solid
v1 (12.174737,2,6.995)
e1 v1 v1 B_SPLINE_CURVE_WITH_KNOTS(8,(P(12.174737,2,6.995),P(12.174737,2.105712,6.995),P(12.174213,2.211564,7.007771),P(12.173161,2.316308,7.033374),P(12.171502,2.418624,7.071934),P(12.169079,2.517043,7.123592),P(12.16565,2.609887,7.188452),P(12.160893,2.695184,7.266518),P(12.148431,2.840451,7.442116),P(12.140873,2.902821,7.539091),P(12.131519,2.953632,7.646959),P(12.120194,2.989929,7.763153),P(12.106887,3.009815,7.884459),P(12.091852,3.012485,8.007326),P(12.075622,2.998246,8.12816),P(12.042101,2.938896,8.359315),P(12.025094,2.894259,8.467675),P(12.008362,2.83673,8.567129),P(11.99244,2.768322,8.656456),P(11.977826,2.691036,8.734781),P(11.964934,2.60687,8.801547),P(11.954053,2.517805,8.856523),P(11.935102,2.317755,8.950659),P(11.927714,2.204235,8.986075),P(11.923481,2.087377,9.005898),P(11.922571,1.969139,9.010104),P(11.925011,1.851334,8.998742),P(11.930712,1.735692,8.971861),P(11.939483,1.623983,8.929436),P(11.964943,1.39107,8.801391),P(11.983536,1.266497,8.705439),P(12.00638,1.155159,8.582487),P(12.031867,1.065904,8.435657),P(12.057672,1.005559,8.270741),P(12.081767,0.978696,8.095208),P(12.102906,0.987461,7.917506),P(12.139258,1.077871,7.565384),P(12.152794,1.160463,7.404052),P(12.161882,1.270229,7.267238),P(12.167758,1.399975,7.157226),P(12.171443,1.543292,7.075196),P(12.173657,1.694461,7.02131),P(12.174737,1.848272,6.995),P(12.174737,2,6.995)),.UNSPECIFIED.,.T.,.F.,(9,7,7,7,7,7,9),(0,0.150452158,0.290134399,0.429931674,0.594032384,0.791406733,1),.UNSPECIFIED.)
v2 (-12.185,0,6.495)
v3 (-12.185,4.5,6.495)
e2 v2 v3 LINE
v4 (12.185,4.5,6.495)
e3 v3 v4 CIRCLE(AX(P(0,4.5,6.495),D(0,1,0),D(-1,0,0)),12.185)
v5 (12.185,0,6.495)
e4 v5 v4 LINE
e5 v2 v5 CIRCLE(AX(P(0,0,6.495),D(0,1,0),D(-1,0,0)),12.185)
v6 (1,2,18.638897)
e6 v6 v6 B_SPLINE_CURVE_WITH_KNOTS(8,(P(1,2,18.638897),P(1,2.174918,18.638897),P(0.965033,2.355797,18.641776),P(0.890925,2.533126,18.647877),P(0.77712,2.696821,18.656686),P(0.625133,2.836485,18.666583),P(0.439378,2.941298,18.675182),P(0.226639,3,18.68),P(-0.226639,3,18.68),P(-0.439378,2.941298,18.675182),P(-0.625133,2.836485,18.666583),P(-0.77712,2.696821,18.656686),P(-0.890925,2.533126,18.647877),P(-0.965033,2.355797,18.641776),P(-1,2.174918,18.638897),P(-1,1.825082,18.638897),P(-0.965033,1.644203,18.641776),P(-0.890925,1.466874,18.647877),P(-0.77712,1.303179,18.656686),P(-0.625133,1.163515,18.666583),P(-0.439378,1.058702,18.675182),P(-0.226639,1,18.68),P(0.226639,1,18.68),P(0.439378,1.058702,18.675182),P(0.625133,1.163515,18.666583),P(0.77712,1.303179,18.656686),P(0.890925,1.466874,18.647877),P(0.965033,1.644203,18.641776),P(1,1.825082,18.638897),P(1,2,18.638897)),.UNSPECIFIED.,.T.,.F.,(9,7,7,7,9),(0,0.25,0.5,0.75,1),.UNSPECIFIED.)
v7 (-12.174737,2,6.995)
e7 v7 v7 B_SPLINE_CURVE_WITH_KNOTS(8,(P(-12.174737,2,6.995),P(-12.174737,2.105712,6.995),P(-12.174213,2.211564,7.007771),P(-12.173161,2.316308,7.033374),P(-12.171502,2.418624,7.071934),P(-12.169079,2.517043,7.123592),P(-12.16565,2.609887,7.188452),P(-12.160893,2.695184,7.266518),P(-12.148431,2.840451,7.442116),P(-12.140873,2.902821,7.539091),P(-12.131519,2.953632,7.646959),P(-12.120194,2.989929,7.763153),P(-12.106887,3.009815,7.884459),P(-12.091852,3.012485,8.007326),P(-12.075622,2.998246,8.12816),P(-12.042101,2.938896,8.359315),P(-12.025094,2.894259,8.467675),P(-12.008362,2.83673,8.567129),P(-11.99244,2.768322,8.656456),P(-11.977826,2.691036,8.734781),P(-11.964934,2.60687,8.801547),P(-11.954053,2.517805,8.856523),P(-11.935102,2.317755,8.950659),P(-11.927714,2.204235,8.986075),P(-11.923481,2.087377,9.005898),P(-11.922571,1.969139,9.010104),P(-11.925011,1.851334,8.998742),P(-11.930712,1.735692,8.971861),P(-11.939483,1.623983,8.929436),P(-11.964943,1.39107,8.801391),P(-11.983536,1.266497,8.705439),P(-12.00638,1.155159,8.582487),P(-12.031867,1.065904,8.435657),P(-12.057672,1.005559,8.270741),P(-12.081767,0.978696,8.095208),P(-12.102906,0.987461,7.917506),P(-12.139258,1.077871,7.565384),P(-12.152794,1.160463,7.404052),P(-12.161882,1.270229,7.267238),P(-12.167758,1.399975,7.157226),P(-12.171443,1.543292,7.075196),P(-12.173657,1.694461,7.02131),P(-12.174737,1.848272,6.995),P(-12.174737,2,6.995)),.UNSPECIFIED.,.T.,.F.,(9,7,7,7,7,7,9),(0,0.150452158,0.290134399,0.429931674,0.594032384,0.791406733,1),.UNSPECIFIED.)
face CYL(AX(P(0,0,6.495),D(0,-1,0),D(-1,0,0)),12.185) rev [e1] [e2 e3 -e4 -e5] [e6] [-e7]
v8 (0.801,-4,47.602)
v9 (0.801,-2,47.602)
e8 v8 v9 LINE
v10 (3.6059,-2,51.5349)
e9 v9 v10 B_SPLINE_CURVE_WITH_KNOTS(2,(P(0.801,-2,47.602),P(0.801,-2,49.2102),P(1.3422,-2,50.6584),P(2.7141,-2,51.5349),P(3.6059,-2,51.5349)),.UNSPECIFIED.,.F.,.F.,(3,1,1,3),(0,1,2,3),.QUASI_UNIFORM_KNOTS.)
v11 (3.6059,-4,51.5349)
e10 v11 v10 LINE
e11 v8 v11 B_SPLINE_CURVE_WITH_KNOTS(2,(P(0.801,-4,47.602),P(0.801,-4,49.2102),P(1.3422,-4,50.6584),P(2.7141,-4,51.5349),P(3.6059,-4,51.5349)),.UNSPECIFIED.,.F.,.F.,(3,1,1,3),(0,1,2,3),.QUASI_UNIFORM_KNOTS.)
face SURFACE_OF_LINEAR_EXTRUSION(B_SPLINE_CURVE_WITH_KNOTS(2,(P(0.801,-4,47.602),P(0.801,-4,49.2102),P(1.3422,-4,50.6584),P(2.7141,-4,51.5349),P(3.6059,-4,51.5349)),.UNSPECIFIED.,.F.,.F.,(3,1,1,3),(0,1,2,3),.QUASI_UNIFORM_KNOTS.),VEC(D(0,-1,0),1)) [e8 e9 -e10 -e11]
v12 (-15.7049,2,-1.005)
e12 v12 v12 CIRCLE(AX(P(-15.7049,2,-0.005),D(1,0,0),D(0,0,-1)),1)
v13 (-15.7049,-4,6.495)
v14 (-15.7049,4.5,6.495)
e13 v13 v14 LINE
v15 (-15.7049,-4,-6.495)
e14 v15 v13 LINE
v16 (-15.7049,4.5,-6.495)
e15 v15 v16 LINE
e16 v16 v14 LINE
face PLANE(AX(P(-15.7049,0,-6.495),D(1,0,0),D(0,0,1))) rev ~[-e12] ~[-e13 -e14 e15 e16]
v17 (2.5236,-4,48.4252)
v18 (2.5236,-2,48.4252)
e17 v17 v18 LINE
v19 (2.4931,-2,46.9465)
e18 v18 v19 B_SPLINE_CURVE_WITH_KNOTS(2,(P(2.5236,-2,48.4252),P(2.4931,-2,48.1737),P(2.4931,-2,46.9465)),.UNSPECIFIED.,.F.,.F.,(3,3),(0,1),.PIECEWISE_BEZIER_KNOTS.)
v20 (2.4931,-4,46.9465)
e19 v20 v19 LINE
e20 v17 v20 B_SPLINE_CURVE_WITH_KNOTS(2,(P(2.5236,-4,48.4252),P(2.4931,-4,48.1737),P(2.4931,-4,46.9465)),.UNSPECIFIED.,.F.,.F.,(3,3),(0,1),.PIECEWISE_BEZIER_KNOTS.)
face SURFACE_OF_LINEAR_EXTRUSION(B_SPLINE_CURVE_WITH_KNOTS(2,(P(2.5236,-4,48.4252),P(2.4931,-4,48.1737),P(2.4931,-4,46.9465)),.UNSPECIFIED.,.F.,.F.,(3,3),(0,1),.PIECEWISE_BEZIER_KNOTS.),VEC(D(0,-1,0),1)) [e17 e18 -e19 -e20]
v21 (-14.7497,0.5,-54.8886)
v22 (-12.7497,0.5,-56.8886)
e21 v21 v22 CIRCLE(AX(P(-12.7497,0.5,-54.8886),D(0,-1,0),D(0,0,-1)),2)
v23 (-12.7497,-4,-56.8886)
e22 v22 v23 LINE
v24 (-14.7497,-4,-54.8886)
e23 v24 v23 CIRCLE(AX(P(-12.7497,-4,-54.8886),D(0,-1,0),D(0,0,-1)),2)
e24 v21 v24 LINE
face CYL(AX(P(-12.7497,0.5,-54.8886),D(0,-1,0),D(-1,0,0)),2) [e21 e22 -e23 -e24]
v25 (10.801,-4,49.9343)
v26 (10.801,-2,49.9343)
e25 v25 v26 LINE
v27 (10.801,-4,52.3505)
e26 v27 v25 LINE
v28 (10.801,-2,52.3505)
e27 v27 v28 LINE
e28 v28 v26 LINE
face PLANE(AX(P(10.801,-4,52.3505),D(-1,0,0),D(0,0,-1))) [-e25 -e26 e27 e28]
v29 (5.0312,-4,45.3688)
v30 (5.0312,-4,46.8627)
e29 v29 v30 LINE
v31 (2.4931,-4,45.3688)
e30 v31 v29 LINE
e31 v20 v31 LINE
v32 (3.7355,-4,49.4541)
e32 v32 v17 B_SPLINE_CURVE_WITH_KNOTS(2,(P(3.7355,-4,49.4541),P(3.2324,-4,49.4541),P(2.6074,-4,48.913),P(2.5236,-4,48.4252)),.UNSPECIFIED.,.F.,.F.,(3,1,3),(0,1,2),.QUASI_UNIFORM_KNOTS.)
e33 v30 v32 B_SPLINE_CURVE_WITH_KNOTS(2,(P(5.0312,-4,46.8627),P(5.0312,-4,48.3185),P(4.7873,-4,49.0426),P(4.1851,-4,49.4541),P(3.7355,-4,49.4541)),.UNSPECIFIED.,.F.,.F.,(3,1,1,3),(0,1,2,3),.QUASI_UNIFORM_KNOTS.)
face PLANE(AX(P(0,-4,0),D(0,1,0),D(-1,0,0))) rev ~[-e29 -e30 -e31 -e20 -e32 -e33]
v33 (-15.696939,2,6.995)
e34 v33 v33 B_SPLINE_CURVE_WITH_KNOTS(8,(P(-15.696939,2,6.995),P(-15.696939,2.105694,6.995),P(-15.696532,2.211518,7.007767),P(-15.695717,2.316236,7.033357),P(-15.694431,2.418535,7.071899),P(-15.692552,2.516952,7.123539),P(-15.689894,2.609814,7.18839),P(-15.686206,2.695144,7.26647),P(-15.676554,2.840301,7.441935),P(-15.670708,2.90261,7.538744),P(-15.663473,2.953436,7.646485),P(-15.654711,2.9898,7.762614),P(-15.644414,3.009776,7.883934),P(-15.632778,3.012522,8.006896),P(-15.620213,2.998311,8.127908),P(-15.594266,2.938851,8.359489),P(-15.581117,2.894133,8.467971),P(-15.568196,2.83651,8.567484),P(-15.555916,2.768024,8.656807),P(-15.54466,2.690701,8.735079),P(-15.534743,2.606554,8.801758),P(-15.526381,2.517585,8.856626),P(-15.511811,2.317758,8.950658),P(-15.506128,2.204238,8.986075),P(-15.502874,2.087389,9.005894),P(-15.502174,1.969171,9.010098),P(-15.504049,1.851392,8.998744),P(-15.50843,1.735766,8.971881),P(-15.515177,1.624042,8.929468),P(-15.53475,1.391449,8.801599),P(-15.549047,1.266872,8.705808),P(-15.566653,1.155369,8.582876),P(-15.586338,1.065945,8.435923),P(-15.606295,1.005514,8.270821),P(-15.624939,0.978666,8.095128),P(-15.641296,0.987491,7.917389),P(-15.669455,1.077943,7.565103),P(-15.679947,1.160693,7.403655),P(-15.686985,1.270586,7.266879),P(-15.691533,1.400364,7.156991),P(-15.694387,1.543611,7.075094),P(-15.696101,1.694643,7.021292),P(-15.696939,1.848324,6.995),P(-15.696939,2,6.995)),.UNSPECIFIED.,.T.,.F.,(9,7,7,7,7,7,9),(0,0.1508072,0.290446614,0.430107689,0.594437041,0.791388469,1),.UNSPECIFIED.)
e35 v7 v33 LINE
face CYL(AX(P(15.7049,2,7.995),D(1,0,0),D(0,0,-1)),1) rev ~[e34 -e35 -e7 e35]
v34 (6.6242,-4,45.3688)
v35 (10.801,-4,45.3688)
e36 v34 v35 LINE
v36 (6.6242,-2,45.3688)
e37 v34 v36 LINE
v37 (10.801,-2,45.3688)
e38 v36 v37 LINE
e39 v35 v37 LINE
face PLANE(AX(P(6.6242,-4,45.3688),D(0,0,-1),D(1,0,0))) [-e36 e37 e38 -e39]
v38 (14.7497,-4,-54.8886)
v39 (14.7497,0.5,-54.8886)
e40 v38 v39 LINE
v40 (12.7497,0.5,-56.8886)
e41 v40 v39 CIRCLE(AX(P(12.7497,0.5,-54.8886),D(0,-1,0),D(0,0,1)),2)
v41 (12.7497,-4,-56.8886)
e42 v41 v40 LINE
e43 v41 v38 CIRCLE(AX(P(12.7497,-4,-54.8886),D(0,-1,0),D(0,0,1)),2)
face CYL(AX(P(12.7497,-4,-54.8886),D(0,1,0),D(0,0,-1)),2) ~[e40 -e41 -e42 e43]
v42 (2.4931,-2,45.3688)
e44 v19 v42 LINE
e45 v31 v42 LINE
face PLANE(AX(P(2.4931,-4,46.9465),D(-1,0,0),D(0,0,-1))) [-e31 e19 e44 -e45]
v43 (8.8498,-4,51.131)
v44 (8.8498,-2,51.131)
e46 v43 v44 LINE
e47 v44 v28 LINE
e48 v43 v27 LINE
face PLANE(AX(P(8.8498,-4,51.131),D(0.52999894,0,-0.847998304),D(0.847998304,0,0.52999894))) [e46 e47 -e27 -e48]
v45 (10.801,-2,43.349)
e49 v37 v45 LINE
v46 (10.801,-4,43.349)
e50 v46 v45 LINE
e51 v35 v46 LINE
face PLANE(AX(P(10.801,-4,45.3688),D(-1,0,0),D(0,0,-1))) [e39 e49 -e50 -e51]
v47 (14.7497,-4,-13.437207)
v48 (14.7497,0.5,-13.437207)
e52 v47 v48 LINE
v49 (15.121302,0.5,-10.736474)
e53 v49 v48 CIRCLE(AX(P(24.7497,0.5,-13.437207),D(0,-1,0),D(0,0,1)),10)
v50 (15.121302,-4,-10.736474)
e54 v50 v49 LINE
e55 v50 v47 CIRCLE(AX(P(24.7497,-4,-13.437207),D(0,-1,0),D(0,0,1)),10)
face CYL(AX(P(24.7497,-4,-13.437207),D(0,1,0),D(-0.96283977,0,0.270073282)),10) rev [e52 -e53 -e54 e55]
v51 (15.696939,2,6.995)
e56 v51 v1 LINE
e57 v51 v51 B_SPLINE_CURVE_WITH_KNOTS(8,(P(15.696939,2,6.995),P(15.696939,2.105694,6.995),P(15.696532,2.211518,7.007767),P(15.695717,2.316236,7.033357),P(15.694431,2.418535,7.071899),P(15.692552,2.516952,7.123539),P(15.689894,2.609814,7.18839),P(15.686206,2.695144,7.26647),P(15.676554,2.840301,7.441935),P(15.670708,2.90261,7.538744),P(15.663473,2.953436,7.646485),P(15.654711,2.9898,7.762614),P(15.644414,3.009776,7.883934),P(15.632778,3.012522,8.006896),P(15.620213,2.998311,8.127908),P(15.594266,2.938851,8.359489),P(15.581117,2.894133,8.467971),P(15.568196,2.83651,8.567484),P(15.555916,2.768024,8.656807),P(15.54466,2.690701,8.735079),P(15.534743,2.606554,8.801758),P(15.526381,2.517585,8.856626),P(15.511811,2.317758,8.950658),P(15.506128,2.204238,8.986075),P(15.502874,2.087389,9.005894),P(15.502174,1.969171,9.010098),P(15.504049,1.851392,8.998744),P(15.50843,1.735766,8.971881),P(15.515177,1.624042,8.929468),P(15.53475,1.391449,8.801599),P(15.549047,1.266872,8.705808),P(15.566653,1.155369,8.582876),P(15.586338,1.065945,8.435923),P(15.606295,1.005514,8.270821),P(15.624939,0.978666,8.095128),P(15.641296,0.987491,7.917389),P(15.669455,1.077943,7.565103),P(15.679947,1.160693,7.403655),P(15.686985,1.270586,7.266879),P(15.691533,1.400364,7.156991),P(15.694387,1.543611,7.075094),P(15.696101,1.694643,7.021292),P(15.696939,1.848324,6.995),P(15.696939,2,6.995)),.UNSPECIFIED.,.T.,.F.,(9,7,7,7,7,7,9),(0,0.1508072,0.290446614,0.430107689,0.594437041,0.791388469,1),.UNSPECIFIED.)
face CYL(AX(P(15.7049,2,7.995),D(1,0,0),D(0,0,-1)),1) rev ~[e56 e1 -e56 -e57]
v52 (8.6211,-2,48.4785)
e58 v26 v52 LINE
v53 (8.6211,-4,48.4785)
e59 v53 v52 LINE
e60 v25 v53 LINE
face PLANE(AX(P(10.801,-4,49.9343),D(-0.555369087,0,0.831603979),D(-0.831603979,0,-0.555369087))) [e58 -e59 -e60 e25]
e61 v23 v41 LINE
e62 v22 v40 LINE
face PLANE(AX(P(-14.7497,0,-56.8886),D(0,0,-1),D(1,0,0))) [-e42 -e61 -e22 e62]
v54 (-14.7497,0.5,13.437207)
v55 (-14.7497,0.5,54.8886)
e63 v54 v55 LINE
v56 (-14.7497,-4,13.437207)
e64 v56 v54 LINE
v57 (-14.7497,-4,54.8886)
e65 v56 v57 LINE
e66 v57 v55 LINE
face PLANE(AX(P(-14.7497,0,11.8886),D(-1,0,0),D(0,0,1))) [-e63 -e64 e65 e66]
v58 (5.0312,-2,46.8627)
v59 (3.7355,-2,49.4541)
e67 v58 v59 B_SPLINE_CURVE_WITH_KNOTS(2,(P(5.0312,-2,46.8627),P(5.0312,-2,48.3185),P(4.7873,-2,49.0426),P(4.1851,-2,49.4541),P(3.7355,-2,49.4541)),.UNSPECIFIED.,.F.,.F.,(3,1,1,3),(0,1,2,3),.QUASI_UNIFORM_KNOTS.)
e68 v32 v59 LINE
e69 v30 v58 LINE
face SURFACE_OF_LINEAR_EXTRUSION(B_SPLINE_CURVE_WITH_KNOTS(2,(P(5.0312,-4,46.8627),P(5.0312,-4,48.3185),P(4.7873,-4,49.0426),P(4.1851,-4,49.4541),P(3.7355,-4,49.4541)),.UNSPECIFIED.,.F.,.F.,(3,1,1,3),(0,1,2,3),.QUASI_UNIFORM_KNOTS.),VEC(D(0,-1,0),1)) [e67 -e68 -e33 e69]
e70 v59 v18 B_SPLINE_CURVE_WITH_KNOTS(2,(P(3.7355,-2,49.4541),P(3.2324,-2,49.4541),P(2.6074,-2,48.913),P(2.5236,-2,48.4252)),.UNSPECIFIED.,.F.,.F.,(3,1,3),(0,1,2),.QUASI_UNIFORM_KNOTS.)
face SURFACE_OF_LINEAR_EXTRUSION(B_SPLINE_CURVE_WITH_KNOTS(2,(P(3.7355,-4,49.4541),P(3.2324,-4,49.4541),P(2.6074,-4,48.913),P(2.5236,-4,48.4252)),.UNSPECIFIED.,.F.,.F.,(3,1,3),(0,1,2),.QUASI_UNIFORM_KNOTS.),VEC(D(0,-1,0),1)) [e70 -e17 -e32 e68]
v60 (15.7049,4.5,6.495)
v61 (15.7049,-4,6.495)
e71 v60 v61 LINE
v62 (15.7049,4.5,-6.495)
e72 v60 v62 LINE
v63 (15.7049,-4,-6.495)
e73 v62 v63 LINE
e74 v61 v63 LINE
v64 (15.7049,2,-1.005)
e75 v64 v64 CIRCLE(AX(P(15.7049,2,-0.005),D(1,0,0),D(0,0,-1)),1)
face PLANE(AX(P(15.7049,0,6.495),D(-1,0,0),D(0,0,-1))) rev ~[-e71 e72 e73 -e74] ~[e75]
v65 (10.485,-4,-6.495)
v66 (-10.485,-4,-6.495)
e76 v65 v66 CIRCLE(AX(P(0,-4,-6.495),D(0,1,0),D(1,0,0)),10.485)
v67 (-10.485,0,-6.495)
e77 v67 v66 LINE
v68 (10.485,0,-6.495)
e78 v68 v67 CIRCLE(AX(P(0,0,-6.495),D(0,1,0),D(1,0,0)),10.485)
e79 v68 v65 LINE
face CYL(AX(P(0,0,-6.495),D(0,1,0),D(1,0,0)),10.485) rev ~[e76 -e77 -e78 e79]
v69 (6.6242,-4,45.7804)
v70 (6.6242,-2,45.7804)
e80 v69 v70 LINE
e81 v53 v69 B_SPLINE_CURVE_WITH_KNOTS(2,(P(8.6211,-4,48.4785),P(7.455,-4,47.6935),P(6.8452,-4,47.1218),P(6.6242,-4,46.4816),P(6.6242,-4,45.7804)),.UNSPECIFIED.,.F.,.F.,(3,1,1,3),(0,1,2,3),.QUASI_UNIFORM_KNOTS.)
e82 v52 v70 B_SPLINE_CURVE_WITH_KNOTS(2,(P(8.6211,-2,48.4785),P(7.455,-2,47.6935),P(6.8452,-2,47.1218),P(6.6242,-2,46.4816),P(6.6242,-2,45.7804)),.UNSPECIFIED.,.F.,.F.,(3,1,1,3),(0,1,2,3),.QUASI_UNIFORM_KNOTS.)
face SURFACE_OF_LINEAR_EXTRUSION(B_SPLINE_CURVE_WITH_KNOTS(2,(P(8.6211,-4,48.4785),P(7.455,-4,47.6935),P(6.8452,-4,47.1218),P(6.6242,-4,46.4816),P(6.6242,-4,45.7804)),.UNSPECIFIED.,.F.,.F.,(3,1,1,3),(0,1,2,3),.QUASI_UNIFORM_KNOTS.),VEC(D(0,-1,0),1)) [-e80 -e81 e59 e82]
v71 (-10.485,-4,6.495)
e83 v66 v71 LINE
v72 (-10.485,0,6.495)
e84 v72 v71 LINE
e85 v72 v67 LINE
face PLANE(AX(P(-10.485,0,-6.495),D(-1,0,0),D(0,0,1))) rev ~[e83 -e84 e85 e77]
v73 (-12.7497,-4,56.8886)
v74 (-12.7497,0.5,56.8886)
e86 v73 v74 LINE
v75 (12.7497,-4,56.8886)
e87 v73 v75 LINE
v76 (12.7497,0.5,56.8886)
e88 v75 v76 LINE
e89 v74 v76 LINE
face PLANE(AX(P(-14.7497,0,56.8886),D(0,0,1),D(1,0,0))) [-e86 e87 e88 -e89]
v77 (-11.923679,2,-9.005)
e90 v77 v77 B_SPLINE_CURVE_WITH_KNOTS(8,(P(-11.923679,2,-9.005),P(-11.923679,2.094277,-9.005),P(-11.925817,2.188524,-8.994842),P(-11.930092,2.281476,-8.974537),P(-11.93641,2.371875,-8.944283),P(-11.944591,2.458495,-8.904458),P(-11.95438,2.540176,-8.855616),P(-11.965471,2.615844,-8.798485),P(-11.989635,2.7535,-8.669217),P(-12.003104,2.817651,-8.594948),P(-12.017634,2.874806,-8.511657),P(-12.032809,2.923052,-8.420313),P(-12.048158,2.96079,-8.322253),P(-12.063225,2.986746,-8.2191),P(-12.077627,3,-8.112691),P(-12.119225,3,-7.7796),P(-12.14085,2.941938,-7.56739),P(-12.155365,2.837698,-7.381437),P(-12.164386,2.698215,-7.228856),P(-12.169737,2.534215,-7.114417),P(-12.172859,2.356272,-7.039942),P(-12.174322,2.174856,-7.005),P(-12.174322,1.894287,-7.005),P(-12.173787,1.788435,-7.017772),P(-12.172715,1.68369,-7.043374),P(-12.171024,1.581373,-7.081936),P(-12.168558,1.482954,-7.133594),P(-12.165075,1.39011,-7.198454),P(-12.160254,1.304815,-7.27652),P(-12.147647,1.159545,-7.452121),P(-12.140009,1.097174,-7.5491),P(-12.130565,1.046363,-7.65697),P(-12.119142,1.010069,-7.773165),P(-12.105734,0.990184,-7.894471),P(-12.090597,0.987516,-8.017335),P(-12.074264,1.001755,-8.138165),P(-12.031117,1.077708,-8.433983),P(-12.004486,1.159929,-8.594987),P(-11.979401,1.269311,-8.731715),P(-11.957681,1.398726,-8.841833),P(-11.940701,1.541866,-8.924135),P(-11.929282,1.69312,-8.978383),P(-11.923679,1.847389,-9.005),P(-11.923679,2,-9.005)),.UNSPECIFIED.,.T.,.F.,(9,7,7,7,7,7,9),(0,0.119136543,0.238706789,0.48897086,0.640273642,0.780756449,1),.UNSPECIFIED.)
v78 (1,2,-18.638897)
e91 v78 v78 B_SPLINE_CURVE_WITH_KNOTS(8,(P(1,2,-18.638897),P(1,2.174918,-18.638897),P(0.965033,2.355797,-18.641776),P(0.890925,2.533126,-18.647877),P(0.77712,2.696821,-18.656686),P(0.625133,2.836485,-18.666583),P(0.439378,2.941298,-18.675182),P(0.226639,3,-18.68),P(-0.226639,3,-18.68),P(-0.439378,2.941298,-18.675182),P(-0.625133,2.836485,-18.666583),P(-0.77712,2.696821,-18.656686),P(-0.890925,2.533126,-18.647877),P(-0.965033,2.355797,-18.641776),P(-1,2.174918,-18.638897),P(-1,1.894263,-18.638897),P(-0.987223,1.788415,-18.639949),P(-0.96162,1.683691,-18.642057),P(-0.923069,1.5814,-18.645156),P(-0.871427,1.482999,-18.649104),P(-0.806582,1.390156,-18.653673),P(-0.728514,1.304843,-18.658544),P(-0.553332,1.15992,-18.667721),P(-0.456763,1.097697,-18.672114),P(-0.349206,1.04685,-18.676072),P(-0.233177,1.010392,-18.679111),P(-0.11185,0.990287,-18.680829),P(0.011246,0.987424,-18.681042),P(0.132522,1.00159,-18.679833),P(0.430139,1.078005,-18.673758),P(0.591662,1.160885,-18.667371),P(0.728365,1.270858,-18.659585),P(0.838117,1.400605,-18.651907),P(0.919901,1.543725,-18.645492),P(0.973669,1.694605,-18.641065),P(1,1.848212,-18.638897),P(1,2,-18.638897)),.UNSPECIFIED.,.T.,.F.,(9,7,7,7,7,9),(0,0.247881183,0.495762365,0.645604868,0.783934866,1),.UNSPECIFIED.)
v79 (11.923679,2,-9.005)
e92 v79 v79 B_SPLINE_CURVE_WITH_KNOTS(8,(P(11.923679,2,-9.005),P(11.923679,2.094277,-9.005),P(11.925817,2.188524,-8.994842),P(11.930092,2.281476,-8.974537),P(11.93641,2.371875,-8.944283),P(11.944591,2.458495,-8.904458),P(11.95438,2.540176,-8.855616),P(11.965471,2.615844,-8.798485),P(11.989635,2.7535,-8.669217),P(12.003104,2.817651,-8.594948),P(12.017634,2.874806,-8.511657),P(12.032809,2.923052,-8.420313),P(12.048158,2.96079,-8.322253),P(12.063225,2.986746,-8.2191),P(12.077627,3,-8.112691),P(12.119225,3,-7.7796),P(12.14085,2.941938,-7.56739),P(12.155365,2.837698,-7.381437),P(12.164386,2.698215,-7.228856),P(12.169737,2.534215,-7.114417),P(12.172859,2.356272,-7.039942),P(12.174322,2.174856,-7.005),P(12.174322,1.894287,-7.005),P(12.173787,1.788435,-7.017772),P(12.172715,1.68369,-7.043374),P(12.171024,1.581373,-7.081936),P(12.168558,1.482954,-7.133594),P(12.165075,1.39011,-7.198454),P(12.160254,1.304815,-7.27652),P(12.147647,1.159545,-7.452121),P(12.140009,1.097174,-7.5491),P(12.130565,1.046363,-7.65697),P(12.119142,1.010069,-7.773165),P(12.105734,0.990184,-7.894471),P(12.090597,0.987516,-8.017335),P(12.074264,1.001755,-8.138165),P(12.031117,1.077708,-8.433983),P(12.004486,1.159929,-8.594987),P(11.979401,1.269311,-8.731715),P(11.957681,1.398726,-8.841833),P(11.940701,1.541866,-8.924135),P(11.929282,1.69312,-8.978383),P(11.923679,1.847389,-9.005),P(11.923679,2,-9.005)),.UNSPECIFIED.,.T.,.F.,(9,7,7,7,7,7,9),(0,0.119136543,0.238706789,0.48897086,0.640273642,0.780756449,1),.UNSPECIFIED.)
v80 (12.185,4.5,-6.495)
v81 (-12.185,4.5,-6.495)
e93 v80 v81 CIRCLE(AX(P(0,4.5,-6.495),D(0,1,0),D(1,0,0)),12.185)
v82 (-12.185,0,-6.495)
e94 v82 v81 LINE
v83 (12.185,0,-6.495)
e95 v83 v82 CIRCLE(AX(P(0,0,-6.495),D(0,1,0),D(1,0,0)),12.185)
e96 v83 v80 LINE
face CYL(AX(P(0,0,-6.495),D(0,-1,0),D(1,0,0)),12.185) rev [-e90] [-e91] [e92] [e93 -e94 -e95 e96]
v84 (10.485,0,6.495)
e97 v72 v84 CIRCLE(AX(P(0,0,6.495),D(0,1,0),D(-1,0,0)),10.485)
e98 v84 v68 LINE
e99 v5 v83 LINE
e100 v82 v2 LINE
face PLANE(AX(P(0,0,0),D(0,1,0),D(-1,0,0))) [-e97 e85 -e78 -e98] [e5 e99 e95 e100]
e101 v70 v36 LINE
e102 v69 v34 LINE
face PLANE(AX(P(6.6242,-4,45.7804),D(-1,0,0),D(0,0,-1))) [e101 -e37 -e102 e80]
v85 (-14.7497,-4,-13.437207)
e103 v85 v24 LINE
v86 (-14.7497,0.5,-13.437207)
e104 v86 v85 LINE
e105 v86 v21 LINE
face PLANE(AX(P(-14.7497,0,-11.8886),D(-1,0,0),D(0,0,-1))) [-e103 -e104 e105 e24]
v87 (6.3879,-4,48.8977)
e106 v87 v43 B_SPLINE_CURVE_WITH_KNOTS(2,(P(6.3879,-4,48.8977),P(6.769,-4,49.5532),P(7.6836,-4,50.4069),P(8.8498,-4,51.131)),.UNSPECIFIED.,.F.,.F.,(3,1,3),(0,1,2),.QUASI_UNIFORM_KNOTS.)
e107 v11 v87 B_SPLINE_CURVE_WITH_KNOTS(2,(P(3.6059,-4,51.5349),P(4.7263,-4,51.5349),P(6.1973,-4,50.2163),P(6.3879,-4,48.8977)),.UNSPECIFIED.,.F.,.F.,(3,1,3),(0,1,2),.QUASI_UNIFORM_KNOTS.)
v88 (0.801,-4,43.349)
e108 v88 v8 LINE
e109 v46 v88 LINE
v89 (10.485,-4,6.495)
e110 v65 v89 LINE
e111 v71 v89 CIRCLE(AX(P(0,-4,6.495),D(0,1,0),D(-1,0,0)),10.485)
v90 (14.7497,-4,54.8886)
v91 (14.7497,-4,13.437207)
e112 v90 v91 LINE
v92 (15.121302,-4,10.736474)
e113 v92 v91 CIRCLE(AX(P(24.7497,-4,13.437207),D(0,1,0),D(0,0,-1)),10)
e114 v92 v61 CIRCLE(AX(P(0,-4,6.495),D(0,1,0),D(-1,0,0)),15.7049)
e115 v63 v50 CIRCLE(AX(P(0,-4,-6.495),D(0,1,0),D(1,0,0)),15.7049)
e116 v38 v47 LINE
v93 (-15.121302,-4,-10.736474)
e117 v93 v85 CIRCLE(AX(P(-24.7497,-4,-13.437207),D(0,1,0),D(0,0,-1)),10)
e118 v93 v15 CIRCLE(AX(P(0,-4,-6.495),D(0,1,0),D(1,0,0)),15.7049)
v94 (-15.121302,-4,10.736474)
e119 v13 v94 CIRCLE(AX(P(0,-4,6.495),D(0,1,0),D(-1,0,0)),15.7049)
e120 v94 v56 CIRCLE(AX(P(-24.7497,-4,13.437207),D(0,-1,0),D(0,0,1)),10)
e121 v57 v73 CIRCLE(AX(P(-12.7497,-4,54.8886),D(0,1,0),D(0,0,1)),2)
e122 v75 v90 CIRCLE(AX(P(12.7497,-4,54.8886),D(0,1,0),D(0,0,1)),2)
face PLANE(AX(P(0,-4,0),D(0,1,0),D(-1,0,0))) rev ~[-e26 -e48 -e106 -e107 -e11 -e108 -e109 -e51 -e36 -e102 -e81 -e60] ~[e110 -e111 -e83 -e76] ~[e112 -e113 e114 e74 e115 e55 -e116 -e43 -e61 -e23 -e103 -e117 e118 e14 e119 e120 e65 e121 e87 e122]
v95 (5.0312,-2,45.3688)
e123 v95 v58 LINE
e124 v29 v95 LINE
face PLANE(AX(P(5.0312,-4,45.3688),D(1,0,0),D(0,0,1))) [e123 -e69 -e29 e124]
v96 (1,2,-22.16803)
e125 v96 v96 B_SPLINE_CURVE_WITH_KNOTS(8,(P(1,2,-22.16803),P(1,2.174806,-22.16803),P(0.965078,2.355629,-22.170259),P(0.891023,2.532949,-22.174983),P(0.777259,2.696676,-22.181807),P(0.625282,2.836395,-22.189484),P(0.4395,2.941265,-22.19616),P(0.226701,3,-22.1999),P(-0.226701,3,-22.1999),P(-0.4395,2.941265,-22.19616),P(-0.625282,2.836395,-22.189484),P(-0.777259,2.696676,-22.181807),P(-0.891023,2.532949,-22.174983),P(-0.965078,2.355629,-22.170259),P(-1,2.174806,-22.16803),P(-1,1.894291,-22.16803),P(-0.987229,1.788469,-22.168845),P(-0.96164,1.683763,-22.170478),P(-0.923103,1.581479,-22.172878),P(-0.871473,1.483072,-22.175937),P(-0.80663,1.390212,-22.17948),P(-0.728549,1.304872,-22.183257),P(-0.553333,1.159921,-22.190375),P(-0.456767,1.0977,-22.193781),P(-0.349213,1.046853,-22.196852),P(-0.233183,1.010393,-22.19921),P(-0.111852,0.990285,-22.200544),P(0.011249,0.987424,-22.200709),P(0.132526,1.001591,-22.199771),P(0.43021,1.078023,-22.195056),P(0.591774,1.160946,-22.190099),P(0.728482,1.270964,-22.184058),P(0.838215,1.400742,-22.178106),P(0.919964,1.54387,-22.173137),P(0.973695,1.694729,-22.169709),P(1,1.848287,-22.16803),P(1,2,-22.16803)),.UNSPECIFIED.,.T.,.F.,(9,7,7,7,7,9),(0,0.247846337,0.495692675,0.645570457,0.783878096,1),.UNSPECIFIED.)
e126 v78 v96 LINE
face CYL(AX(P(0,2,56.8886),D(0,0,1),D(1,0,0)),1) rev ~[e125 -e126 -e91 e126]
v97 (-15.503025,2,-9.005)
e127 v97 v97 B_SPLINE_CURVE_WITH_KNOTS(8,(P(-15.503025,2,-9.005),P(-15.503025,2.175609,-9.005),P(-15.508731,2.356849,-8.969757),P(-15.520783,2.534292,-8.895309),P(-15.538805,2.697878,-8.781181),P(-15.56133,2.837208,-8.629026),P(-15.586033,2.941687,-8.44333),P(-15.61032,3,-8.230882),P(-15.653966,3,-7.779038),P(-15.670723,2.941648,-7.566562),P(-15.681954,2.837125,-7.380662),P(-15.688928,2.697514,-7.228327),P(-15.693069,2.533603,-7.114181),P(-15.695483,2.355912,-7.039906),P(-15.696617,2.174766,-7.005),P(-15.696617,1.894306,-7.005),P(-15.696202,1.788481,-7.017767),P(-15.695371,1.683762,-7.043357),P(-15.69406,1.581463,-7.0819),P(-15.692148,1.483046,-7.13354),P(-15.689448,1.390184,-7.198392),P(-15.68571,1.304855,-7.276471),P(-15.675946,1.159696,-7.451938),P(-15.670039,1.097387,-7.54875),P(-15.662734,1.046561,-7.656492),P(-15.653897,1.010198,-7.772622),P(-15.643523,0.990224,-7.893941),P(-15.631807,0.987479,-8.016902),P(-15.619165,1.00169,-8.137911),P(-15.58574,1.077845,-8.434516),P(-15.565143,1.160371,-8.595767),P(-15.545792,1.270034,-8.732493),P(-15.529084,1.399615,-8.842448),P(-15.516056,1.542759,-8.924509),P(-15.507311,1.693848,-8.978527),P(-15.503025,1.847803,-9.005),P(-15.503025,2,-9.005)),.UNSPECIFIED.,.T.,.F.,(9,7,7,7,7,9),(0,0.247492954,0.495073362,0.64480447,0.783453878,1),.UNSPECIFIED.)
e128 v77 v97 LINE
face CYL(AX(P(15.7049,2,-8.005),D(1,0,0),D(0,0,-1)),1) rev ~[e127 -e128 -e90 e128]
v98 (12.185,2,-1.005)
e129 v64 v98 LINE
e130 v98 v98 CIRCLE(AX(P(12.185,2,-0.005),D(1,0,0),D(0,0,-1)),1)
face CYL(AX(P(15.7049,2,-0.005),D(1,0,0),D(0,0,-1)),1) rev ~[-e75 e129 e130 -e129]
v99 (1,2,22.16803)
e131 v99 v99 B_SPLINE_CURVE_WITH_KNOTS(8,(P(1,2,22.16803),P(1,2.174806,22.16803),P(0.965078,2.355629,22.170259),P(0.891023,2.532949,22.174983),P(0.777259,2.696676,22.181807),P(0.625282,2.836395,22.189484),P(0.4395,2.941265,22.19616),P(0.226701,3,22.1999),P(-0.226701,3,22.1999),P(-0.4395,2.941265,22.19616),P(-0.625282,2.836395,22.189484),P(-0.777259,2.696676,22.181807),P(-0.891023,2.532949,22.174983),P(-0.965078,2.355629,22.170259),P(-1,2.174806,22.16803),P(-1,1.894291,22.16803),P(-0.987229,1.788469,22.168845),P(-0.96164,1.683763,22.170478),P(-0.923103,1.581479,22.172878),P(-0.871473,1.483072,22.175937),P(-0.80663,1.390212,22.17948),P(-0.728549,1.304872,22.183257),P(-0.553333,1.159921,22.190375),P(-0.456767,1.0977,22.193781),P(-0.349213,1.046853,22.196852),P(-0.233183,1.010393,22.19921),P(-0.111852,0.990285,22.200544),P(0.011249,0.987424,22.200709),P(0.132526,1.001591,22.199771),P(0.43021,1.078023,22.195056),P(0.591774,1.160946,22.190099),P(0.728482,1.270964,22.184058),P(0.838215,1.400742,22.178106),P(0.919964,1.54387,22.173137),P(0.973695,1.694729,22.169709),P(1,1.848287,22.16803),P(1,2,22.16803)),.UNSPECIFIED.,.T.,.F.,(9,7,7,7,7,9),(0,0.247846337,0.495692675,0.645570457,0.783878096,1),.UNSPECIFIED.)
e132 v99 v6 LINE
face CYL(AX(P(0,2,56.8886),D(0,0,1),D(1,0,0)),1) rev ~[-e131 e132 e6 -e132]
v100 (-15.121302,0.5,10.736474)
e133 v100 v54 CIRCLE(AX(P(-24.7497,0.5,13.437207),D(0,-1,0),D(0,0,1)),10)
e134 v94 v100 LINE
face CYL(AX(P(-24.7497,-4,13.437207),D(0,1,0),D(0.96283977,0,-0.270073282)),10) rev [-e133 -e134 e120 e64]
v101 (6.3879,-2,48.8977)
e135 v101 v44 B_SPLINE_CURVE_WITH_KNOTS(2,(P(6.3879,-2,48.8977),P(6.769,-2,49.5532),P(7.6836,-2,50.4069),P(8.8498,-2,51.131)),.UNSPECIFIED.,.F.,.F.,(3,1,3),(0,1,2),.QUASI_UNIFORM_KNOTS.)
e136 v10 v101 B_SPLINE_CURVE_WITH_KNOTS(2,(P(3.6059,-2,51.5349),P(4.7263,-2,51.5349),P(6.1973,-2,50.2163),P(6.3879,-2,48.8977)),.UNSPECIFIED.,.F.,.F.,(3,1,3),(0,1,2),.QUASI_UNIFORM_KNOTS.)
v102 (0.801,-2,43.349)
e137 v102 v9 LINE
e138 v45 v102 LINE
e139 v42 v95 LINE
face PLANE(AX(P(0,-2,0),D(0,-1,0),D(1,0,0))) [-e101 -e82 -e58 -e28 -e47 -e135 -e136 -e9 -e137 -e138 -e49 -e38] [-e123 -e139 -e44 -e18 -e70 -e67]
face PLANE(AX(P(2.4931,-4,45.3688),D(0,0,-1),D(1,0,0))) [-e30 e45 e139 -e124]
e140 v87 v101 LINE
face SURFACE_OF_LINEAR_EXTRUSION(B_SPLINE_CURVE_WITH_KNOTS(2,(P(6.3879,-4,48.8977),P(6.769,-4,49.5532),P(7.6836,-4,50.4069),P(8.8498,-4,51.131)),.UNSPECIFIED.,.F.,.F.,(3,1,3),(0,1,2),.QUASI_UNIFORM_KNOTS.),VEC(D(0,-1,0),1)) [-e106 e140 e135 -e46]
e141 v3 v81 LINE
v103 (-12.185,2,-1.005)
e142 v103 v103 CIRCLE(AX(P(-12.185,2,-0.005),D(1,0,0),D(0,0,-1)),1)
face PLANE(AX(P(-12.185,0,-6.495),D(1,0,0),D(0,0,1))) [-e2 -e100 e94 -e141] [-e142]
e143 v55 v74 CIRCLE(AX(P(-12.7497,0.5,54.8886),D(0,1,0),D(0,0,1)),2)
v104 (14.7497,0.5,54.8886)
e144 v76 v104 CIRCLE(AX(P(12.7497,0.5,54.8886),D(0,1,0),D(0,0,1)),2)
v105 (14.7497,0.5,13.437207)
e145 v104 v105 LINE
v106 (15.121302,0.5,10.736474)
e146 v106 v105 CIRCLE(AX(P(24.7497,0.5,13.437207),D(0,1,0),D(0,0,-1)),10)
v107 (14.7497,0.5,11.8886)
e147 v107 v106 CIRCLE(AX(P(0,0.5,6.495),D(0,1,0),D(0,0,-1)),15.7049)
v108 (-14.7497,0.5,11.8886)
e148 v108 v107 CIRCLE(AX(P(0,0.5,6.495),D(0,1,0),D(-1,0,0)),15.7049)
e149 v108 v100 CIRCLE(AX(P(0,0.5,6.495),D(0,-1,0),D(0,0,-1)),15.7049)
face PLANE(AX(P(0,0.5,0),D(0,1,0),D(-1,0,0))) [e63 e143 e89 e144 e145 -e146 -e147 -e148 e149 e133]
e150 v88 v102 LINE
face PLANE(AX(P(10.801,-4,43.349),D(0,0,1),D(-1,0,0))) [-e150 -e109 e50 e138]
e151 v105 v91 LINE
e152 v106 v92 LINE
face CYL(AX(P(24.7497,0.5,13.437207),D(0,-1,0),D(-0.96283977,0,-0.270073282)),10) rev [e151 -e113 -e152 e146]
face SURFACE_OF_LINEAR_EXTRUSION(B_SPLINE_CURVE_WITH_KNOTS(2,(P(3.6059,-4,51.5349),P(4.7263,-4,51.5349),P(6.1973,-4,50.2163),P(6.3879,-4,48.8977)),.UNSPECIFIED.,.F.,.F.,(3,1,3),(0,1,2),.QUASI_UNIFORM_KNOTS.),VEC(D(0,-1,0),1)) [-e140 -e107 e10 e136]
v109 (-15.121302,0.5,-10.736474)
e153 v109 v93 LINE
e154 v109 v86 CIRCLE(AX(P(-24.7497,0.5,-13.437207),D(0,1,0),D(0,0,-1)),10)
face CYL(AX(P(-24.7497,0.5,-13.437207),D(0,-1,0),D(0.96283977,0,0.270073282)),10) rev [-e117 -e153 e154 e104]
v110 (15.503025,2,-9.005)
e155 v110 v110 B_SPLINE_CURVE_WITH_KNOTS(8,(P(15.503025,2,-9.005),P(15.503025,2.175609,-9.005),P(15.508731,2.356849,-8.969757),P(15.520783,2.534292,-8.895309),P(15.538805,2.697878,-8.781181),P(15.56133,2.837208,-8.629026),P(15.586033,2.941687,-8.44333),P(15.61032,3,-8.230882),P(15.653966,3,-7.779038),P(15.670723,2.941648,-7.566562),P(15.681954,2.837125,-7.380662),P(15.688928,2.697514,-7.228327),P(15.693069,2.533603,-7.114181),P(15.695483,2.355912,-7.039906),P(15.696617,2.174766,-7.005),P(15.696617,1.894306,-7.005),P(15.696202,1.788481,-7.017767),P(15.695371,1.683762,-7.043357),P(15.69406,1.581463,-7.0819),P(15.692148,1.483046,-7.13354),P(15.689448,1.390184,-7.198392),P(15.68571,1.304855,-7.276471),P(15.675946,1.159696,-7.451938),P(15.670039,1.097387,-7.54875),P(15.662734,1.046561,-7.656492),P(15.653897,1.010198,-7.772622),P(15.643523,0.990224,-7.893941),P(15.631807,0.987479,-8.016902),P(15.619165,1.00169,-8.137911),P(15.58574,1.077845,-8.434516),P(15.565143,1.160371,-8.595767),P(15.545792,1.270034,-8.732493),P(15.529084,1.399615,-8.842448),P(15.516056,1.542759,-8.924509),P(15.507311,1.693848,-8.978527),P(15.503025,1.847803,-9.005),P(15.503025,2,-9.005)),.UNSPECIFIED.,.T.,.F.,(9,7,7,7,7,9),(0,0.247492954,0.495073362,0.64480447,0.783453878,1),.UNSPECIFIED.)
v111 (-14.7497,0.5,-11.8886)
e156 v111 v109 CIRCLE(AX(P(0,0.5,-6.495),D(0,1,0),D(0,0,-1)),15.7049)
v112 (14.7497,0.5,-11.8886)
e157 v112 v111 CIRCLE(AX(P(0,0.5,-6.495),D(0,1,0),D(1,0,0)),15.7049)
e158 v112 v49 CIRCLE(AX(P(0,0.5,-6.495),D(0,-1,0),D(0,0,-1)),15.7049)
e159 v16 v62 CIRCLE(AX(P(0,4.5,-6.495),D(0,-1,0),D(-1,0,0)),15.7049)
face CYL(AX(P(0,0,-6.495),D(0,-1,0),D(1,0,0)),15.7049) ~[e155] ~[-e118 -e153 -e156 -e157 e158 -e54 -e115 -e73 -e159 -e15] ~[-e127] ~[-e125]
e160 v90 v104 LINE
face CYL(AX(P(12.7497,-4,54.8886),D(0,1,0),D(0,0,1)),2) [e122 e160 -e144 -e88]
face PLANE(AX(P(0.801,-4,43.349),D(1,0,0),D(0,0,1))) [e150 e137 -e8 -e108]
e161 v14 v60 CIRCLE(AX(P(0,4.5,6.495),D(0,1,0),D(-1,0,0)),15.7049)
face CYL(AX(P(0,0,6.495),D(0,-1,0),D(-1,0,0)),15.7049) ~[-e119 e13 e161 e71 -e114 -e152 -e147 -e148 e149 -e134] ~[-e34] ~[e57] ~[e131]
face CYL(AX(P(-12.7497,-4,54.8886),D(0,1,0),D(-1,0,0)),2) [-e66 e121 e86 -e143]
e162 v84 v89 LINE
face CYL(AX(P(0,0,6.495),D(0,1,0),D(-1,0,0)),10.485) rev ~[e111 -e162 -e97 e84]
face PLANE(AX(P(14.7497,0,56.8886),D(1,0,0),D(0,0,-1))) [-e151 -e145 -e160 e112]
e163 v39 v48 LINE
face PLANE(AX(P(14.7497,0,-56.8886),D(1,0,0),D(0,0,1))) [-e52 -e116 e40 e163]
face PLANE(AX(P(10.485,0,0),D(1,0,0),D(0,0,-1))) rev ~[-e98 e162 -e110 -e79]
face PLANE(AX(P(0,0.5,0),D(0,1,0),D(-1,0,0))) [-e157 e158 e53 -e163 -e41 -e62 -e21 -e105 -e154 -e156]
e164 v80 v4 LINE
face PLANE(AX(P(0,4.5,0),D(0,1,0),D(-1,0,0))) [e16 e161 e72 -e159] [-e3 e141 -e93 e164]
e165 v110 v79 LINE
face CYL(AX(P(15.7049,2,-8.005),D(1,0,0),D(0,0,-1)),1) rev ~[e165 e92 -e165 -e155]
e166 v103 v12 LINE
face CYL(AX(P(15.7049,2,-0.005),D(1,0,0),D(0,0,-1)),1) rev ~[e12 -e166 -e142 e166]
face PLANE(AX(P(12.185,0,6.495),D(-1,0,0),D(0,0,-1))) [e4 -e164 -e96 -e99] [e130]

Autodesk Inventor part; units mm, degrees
ref_plane "YZ Plane" through (0, 0, 0) normal (1, 0, 0) x (0, 1, 0)
ref_plane "XZ Plane" through (0, 0, 0) normal (0, 1, 0) x (-1, 0, 0)
ref_plane "XY Plane" through (0, 0, 0) normal (0, 0, 1) x (1, 0, 0)
sketch "Chamber_outline" plane through (0, 0, 0) normal (0, 1, 0) x (-1, 0, 0)
  line L0 (0, -6.495) -> (0, 6.495) construction
  line L1 (12.185, -6.495) -> (12.185, 6.495)
  line L2 (-12.185, 6.495) -> (-12.185, -6.495)
  arc A0 (-12.185, -6.495) -> (12.185, -6.495) centre (0, -6.495) ccw
  arc A1 (12.185, 6.495) -> (-12.185, 6.495) centre (0, 6.495) ccw
  line L3 (15.7049, -6.495) -> (15.7049, 6.495)
  arc A2 (15.7049, 6.495) -> (-15.7049, 6.495) centre (0, 6.495) ccw
  line L4 (-15.7049, 6.495) -> (-15.7049, -6.495)
  arc A3 (-15.7049, -6.495) -> (15.7049, -6.495) centre (0, -6.495) ccw
  line L5 (12.185, 0) -> (-12.185, 0)
  line L6 (14.7497, -11.8886) -> (14.7497, -56.8886)
  line L7 (14.7497, -56.8886) -> (-14.7497, -56.8886)
  line L8 (-14.7497, -56.8886) -> (-14.7497, -11.8886)
  line L9 (14.7497, 11.8886) -> (14.7497, 56.8886)
  line L10 (14.7497, 56.8886) -> (-14.7497, 56.8886)
  line L11 (-14.7497, 56.8886) -> (-14.7497, 11.8886)
  line L12 (10.485, -6.495) -> (10.485, 6.495)
  arc A4 (10.485, 6.495) -> (-10.485, 6.495) centre (0, 6.495) ccw
  line L13 (-10.485, 6.495) -> (-10.485, -6.495)
  arc A5 (-10.485, -6.495) -> (10.485, -6.495) centre (0, -6.495) ccw
  point P0 (0, 0)
  point P1 (0, 0)
  point P2 (0, 0)
  point P3 (0, -56.8886)
  point P4 (0, 56.8886)
  point P5 (-14.7497, 11.8886)
  point P6 (14.7497, 11.8886)
  point P7 (0, -18.68)
  point P8 (0, 18.68)
  dimension "d18" = 24.37
  dimension "d26" = 1.7
  dimension "d58" = 45
  dimension "d82" = 37.36
extrude "Extrusion3" add sketch "Chamber_outline" along normal blind 4.5 contours A3 L4 A2 L3
extrude "Extrusion4" add sketch "Chamber_outline" along normal blind 0.5 contours L6 L7 L8 A3 | A2 L11 L10 L9
extrude "Extrusion5" add sketch "Chamber_outline" against normal blind 4 contours A0 L2 L5 L13 A5 L12 L1 | L5 L12 A4 L13 L2 A1 L1 | A3 L4 A2 L3 | L6 L7 L8 A3 | A2 L11 L10 L9
fillet "Fillet1" radius 10 2 edges at (-14.7497, -2, 11.8886) (-14.7497, 0.25, 11.8886)
fillet "Fillet2" radius 10 6 edges at (-14.7497, -2, -11.8886) (-14.7497, 0.25, -11.8886) (14.7497, 0.25, -11.8886) (14.7497, -2, -11.8886) (14.7497, 0.25, 11.8886) (14.7497, -2, 11.8886)
fillet "Fillet3" radius 2 8 edges at (-14.7497, -2, -56.8886) (-14.7497, 0.25, -56.8886) (-14.7497, -2, 56.8886) (-14.7497, 0.25, 56.8886) (14.7497, -2, 56.8886) (14.7497, 0.25, 56.8886) (14.7497, -2, -56.8886) (14.7497, 0.25, -56.8886)
sketch "Sketch9" plane through (0, -4, 0) normal (0, -1, 0) x (1, 0, 0)
  line L0 (0.801, 42.3276) -> (0.801, 45.3727) construction
  line L1 (0.801, 45.3727) -> (3.851, 45.3727) construction
  line L2 (3.851, 45.3727) -> (3.851, 42.3276) construction
  line L3 (3.851, 42.3276) -> (0.801, 42.3276) construction
  line L4 (10.801, 43.349) -> (0.801, 43.349)
  line L5 (0.801, 43.349) -> (0.801, 47.602)
  spline S0 degree 2 poles (0.801, 47.602) (0.801, 49.2102) (1.3422, 50.6584) (2.7141, 51.5349) (3.6059, 51.5349) knots 0 0 0 1 2 3 3 3
  spline S1 degree 2 poles (3.6059, 51.5349) (4.7263, 51.5349) (6.1973, 50.2163) (6.3879, 48.8977) knots 0 0 0 1 2 2 2
  spline S2 degree 2 poles (6.3879, 48.8977) (6.769, 49.5532) (7.6836, 50.4069) (8.8498, 51.131) knots 0 0 0 1 2 2 2
  line L6 (8.8498, 51.131) -> (10.801, 52.3505)
  line L7 (10.801, 52.3505) -> (10.801, 49.9343)
  line L8 (10.801, 49.9343) -> (8.6211, 48.4785)
  spline S3 degree 2 poles (8.6211, 48.4785) (7.455, 47.6935) (6.8452, 47.1218) (6.6242, 46.4816) (6.6242, 45.7804) knots 0 0 0 1 2 3 3 3
  line L9 (6.6242, 45.7804) -> (6.6242, 45.3688)
  line L10 (6.6242, 45.3688) -> (10.801, 45.3688)
  line L11 (10.801, 45.3688) -> (10.801, 43.349)
  line L12 (5.0312, 45.3688) -> (5.0312, 46.8627)
  spline S4 degree 2 poles (5.0312, 46.8627) (5.0312, 48.3185) (4.7873, 49.0426) (4.1851, 49.4541) (3.7355, 49.4541) knots 0 0 0 1 2 3 3 3
  spline S5 degree 2 poles (3.7355, 49.4541) (3.2324, 49.4541) (2.6074, 48.913) (2.5236, 48.4252) knots 0 0 0 1 2 2 2
  spline S6 degree 2 poles (2.5236, 48.4252) (2.4931, 48.1737) (2.4931, 46.9465) knots 0 0 0 1 1 1
  line L13 (2.4931, 46.9465) -> (2.4931, 45.3688)
  line L14 (2.4931, 45.3688) -> (5.0312, 45.3688)
  point P0 (0, 0)
extrude "Extrusion14" cut sketch "Sketch9" against normal blind 2
sketch "Sketch3" plane through (15.7049, 4.5, 6.495) normal (1, 0, 0) x (0, 0, -1)
  circle A0 centre (6.5, -2.5) radius 1
  line L0 (0, 0) -> (12.99, 0) projected
  circle A1 centre (14.5, -2.5) radius 1
  circle A2 centre (-1.5, -2.5) radius 1
  point P0 (6.495, -4.5)
  dimension "d41" = 2
  dimension "d43" = 2.5
  dimension "d85" = 2
  dimension "d86" = 2
  dimension "d87" = 8
  dimension "d88" = 8
extrude "Extrusion6" cut sketch "Sketch3" against normal through all
sketch "Sketch4" plane through (-12.7497, 0.5, 56.8886) normal (0, 0, 1) x (1, 0, 0)
  circle A0 centre (12.7497, 1.5) radius 1
  line L0 (28.4546, 4) -> (-2.9552, 4) projected
  point P0 (12.7497, -0.5)
  point P1 (12.7497, 4)
  dimension "d36" = 2
  dimension "d42" = 2.5
extrude "Extrusion7" cut sketch "Sketch4" against normal through all
sketch "Sketch5" plane through (0, -4, 0) normal (0, -1, 0) x (1, 0, 0)
  line L0 (-10.485, -6.495) -> (-10.485, 6.495) projected
  line L1 (-10.485, -6.495) -> (-8.4271, -6.495)
  line L2 (-7.9121, 0.245) -> (-7.9121, 6.495)
  line L3 (-7.9121, 6.495) -> (-10.485, 6.495)
  line L4 (10.485, -6.495) -> (10.485, 6.495) projected
  line L5 (10.485, -6.495) -> (8.4271, -6.495)
  line L6 (8.3305, -0.2609) -> (8.3305, 6.495)
  line L7 (8.3305, 6.495) -> (10.485, 6.495)
  arc A0 (10.485, 6.495) -> (-10.485, 6.495) centre (0, 6.495) ccw projected
  arc A1 (-10.485, -6.495) -> (10.485, -6.495) centre (0, -6.495) ccw projected
  arc A2 (-10.485, -6.495) -> (10.485, -6.495) centre (0, -6.495) ccw projected
  line L8 (-7.079, -14.2295) -> (-5.3711, -11.1831)
  line L9 (-5.3711, -11.1831) -> (-3.3516, -12.3154)
  line L10 (-3.3516, -12.3154) -> (-5.1945, -15.6028)
  line L11 (-7.4267, 14.3644) -> (-5.7188, 11.3181)
  line L12 (-5.7188, 11.3181) -> (-3.6001, 12.5059)
  line L13 (-3.6001, 12.5059) -> (-5.4497, 15.8051)
  line L14 (3.586, 12.9764) -> (5.1976, 15.6011)
  line L15 (5.8011, 11.7346) -> (3.586, 12.9764)
  line L16 (7.1611, 14.1536) -> (5.8011, 11.7346)
  line L17 (-10.485, -6.495) -> (10.8395, -6.495)
  line L18 (1.9666, 16.7939) -> (1.9666, -0.2609)
  line L19 (-2.0003, -16.7874) -> (-2.0003, -6.495)
  line L20 (-1.0812, 0.245) -> (-1.0812, 16.9241)
  line L21 (4.8643, -15.7834) -> (4.8643, -6.495)
  line L22 (-7.9121, 0.245) -> (-1.0812, 0.245)
  line L23 (1.9666, -0.2609) -> (8.3305, -0.2609)
  point P0 (0, 0)
  point P1 (1.5355, -6.495)
  point P2 (-7.079, -14.2295)
  point P3 (-5.1945, -15.6028)
  point P4 (-5.3016, 15.5409)
  point P5 (-7.2574, 14.0624)
  point P6 (7.5128, 14.2848)
  point P7 (5.4529, 15.8033)
  point P8 (8.4271, -6.495)
  point P9 (4.8643, -15.7834)
sketch "Sketch6" plane through (0, -4, 0) normal (0, -1, 0) x (1, 0, 0)
  ellipse E0 centre (0, -5) end of major axis (0.355, -4.9802) minor radius 0.3556 projected
  circle A0 centre (1, -5.9999) radius 0.3556 projected
  circle A1 centre (0, -5.9999) radius 0.3556 projected
  circle A2 centre (-1, -6) radius 0.3556 projected
  circle A3 centre (-1, -4.9999) radius 0.3556 projected
  circle A4 centre (1, -5) radius 0.3556 projected
  circle A5 centre (1, -6.9999) radius 0.3556 projected
  ellipse E1 centre (0, -7) end of major axis (0.3551, -6.9801) minor radius 0.3556 projected
  ellipse E2 centre (-1, -7) end of major axis (-0.645, -6.9801) minor radius 0.3556 projected
  ellipse E3 centre (6, -3) end of major axis (6.355, -2.9802) minor radius 0.3556 projected
  circle A6 centre (5, -3) radius 0.3556 projected
  ellipse E4 centre (4, -2.9999) end of major axis (4.3551, -2.9801) minor radius 0.3556 projected
  circle A7 centre (4, -4) radius 0.3556 projected
  ellipse E5 centre (5, -4) end of major axis (5.355, -3.9802) minor radius 0.3556 projected
  ellipse E6 centre (6, -3.9999) end of major axis (6.3551, -3.9801) minor radius 0.3556 projected
  circle A8 centre (6, -2) radius 0.3556 projected
  circle A9 centre (5, -2) radius 0.3556 projected
  circle A10 centre (4, -1.9999) radius 0.3556 projected
  circle A11 centre (3, -12) radius 0.3556 projected
  circle A12 centre (4, -11.9999) radius 0.3556 projected
  circle A13 centre (3, -10.9999) radius 0.3556 projected
  circle A14 centre (4, -11) radius 0.3556 projected
  circle A15 centre (2, -10.9999) radius 0.3556 projected
  circle A16 centre (2, -12) radius 0.3556 projected
  circle A17 centre (2, -13) radius 0.3555 projected
  ellipse E7 centre (3, -13) end of major axis (3.0198, -13.355) minor radius 0.3556 projected
  ellipse E8 centre (4, -13) end of major axis (4.0198, -13.355) minor radius 0.3556 projected
  circle A18 centre (1.5, 9) radius 0.3556 projected
  circle A19 centre (1.5, 8) radius 0.3556 projected
  circle A20 centre (0.5, 8) radius 0.3556 projected
  ellipse E9 centre (-0.5, 8.0001) end of major axis (-0.1449, 8.0199) minor radius 0.3556 projected
  circle A21 centre (-0.5, 9) radius 0.3556 projected
  circle A22 centre (-0.5, 10) radius 0.3556 projected
  circle A23 centre (1.5, 10.0001) radius 0.3556 projected
  ellipse E10 centre (0.5, 10) end of major axis (0.5198, 9.645) minor radius 0.3556 projected
  circle A24 centre (0.5, 9) radius 0.3556 projected
  circle A25 centre (3, -12) radius 0.4056
  circle A26 centre (0, -5.9999) radius 0.4056
  circle A27 centre (5, -3) radius 0.4056
  circle A28 centre (0.5, 9) radius 0.4056
  circle A29 centre (-1, -6) radius 0.4056
  point P0 (0, 0)
  dimension "d63" = 0.05
  dimension "d64" = 0.05
  dimension "d65" = 0.05
  dimension "d66" = 0.05
  dimension "d77" = 0.05
sketch "Sketch7" plane through (0, -0.5, 0) normal (0, 1, 0) x (1, 0, 0)
  arc A0 (12.185, 6.495) -> (-12.185, 6.495) centre (0, 6.495) ccw projected
  arc A1 (10.285, 6.495) -> (-10.285, 6.495) centre (0, 6.495) ccw
  line L0 (-10.485, -6.495) -> (-10.485, 6.495) projected
  arc A2 (10.485, 6.495) -> (-10.485, 6.495) centre (0, 6.495) ccw projected
  line L1 (10.485, 6.495) -> (10.485, -6.495) projected
  arc A3 (-10.485, -6.495) -> (10.485, -6.495) centre (0, -6.495) ccw projected
  line L2 (-12.185, -6.495) -> (-12.185, 6.495) projected
  arc A4 (-12.185, -6.495) -> (12.185, -6.495) centre (0, -6.495) ccw projected
  line L3 (12.185, 6.495) -> (12.185, -6.495) projected
  arc A5 (12.185, 6.495) -> (-12.185, 6.495) centre (0, 6.495) ccw projected
  arc A6 (-12.185, -6.495) -> (12.185, -6.495) centre (0, -6.495) ccw projected
  line L4 (12.185, 6.495) -> (12.185, -6.495) projected
  line L5 (-12.185, -6.495) -> (-12.185, 6.495) projected
  line L6 (-10.285, -6.495) -> (-10.285, 6.495)
  arc A7 (10.285, 6.495) -> (-10.285, 6.495) centre (0, 6.495) ccw
  line L7 (10.285, 6.495) -> (10.285, -6.495)
  arc A8 (-10.285, -6.495) -> (10.285, -6.495) centre (0, -6.495) ccw
  circle A9 centre (5, 3) radius 0.4056 projected
  circle A10 centre (0, 5.9999) radius 0.4056 projected
  circle A11 centre (0.5, -9) radius 0.4056 projected
  circle A12 centre (3, 12) radius 0.4056 projected
  line L8 (10.485, 6.495) -> (4.8643, 6.495) projected
  line L9 (4.8643, 6.495) -> (4.8643, 15.7834) projected
  arc A13 (4.8643, 15.7834) -> (-2.0003, 16.7874) centre (0, 6.495) ccw projected
  line L10 (-2.0003, 16.7874) -> (-2.0003, 6.495) projected
  line L11 (-2.0003, 6.495) -> (-10.485, 6.495) projected
  line L12 (-10.485, -6.495) -> (-10.485, 6.495) projected
  line L13 (-10.485, -6.495) -> (-7.9121, -6.495) projected
  line L14 (-7.9121, -6.495) -> (-7.9121, -0.245) projected
  line L15 (-7.9121, -0.245) -> (-1.0812, -0.245) projected
  line L16 (-1.0812, -0.245) -> (-1.0812, -16.9241) projected
  arc A14 (-1.0812, -16.9241) -> (1.9666, -16.7939) centre (0, -6.495) ccw projected
  line L17 (1.9666, -16.7939) -> (1.9666, 0.2609) projected
  line L18 (1.9666, 0.2609) -> (8.3305, 0.2609) projected
  line L19 (8.3305, 0.2609) -> (8.3305, -6.495) projected
  line L20 (8.3305, -6.495) -> (10.485, -6.495) projected
  line L21 (10.485, 6.495) -> (10.485, -6.495) projected
  line L22 (7.1611, -14.1536) -> (5.8011, -11.7346) projected
  line L23 (5.8011, -11.7346) -> (3.586, -12.9764) projected
  line L24 (3.586, -12.9764) -> (5.1976, -15.6011) projected
  arc A15 (5.1976, -15.6011) -> (7.1611, -14.1536) centre (0, -6.495) ccw projected
  line L25 (-7.079, 14.2295) -> (-5.3711, 11.1831) projected
  line L26 (-5.3711, 11.1831) -> (-3.3516, 12.3154) projected
  line L27 (-3.3516, 12.3154) -> (-5.1945, 15.6028) projected
  arc A16 (-5.1945, 15.6028) -> (-7.079, 14.2295) centre (0, 6.495) ccw projected
  line L28 (-5.3016, -15.5409) -> (-3.6001, -12.5059) projected
  line L29 (-3.6001, -12.5059) -> (-5.7188, -11.3181) projected
  line L30 (-5.7188, -11.3181) -> (-7.2574, -14.0624) projected
  arc A17 (-7.2574, -14.0624) -> (-5.3016, -15.5409) centre (0, -6.495) ccw projected
  circle A18 centre (-1, 6) radius 0.4056 projected
  line L31 (0, -16.78) -> (0, 0)
  line L32 (-10.285, 0) -> (0, 0)
  line L33 (0, 0) -> (10.285, 0)
  line L34 (0, 0) -> (0, 16.78)
  point P0 (-1.0812, -16.723)
  point P1 (1.9666, -16.5902)
  point P2 (10.285, -6.495)
  point P3 (10.285, 6.495)
  point P4 (4.8643, 15.557)
  point P5 (-2.0003, 16.5836)
  point P6 (-10.285, 6.495)
  point P7 (-10.285, -6.495)
  point P8 (5.0929, -15.4305)
  point P9 (7.0601, -13.974)
  point P10 (-7.1563, -13.8821)
  point P11 (-5.2037, -15.3664)
  point P12 (-5.0967, 15.4283)
  point P13 (-6.9785, 14.0503)
  dimension "d83" = 33.56
equation "\"metal_holder_thickness\" = 5"
equation "\"metal_holder_slot_length\" = 5"
properties part number "holder_base"
